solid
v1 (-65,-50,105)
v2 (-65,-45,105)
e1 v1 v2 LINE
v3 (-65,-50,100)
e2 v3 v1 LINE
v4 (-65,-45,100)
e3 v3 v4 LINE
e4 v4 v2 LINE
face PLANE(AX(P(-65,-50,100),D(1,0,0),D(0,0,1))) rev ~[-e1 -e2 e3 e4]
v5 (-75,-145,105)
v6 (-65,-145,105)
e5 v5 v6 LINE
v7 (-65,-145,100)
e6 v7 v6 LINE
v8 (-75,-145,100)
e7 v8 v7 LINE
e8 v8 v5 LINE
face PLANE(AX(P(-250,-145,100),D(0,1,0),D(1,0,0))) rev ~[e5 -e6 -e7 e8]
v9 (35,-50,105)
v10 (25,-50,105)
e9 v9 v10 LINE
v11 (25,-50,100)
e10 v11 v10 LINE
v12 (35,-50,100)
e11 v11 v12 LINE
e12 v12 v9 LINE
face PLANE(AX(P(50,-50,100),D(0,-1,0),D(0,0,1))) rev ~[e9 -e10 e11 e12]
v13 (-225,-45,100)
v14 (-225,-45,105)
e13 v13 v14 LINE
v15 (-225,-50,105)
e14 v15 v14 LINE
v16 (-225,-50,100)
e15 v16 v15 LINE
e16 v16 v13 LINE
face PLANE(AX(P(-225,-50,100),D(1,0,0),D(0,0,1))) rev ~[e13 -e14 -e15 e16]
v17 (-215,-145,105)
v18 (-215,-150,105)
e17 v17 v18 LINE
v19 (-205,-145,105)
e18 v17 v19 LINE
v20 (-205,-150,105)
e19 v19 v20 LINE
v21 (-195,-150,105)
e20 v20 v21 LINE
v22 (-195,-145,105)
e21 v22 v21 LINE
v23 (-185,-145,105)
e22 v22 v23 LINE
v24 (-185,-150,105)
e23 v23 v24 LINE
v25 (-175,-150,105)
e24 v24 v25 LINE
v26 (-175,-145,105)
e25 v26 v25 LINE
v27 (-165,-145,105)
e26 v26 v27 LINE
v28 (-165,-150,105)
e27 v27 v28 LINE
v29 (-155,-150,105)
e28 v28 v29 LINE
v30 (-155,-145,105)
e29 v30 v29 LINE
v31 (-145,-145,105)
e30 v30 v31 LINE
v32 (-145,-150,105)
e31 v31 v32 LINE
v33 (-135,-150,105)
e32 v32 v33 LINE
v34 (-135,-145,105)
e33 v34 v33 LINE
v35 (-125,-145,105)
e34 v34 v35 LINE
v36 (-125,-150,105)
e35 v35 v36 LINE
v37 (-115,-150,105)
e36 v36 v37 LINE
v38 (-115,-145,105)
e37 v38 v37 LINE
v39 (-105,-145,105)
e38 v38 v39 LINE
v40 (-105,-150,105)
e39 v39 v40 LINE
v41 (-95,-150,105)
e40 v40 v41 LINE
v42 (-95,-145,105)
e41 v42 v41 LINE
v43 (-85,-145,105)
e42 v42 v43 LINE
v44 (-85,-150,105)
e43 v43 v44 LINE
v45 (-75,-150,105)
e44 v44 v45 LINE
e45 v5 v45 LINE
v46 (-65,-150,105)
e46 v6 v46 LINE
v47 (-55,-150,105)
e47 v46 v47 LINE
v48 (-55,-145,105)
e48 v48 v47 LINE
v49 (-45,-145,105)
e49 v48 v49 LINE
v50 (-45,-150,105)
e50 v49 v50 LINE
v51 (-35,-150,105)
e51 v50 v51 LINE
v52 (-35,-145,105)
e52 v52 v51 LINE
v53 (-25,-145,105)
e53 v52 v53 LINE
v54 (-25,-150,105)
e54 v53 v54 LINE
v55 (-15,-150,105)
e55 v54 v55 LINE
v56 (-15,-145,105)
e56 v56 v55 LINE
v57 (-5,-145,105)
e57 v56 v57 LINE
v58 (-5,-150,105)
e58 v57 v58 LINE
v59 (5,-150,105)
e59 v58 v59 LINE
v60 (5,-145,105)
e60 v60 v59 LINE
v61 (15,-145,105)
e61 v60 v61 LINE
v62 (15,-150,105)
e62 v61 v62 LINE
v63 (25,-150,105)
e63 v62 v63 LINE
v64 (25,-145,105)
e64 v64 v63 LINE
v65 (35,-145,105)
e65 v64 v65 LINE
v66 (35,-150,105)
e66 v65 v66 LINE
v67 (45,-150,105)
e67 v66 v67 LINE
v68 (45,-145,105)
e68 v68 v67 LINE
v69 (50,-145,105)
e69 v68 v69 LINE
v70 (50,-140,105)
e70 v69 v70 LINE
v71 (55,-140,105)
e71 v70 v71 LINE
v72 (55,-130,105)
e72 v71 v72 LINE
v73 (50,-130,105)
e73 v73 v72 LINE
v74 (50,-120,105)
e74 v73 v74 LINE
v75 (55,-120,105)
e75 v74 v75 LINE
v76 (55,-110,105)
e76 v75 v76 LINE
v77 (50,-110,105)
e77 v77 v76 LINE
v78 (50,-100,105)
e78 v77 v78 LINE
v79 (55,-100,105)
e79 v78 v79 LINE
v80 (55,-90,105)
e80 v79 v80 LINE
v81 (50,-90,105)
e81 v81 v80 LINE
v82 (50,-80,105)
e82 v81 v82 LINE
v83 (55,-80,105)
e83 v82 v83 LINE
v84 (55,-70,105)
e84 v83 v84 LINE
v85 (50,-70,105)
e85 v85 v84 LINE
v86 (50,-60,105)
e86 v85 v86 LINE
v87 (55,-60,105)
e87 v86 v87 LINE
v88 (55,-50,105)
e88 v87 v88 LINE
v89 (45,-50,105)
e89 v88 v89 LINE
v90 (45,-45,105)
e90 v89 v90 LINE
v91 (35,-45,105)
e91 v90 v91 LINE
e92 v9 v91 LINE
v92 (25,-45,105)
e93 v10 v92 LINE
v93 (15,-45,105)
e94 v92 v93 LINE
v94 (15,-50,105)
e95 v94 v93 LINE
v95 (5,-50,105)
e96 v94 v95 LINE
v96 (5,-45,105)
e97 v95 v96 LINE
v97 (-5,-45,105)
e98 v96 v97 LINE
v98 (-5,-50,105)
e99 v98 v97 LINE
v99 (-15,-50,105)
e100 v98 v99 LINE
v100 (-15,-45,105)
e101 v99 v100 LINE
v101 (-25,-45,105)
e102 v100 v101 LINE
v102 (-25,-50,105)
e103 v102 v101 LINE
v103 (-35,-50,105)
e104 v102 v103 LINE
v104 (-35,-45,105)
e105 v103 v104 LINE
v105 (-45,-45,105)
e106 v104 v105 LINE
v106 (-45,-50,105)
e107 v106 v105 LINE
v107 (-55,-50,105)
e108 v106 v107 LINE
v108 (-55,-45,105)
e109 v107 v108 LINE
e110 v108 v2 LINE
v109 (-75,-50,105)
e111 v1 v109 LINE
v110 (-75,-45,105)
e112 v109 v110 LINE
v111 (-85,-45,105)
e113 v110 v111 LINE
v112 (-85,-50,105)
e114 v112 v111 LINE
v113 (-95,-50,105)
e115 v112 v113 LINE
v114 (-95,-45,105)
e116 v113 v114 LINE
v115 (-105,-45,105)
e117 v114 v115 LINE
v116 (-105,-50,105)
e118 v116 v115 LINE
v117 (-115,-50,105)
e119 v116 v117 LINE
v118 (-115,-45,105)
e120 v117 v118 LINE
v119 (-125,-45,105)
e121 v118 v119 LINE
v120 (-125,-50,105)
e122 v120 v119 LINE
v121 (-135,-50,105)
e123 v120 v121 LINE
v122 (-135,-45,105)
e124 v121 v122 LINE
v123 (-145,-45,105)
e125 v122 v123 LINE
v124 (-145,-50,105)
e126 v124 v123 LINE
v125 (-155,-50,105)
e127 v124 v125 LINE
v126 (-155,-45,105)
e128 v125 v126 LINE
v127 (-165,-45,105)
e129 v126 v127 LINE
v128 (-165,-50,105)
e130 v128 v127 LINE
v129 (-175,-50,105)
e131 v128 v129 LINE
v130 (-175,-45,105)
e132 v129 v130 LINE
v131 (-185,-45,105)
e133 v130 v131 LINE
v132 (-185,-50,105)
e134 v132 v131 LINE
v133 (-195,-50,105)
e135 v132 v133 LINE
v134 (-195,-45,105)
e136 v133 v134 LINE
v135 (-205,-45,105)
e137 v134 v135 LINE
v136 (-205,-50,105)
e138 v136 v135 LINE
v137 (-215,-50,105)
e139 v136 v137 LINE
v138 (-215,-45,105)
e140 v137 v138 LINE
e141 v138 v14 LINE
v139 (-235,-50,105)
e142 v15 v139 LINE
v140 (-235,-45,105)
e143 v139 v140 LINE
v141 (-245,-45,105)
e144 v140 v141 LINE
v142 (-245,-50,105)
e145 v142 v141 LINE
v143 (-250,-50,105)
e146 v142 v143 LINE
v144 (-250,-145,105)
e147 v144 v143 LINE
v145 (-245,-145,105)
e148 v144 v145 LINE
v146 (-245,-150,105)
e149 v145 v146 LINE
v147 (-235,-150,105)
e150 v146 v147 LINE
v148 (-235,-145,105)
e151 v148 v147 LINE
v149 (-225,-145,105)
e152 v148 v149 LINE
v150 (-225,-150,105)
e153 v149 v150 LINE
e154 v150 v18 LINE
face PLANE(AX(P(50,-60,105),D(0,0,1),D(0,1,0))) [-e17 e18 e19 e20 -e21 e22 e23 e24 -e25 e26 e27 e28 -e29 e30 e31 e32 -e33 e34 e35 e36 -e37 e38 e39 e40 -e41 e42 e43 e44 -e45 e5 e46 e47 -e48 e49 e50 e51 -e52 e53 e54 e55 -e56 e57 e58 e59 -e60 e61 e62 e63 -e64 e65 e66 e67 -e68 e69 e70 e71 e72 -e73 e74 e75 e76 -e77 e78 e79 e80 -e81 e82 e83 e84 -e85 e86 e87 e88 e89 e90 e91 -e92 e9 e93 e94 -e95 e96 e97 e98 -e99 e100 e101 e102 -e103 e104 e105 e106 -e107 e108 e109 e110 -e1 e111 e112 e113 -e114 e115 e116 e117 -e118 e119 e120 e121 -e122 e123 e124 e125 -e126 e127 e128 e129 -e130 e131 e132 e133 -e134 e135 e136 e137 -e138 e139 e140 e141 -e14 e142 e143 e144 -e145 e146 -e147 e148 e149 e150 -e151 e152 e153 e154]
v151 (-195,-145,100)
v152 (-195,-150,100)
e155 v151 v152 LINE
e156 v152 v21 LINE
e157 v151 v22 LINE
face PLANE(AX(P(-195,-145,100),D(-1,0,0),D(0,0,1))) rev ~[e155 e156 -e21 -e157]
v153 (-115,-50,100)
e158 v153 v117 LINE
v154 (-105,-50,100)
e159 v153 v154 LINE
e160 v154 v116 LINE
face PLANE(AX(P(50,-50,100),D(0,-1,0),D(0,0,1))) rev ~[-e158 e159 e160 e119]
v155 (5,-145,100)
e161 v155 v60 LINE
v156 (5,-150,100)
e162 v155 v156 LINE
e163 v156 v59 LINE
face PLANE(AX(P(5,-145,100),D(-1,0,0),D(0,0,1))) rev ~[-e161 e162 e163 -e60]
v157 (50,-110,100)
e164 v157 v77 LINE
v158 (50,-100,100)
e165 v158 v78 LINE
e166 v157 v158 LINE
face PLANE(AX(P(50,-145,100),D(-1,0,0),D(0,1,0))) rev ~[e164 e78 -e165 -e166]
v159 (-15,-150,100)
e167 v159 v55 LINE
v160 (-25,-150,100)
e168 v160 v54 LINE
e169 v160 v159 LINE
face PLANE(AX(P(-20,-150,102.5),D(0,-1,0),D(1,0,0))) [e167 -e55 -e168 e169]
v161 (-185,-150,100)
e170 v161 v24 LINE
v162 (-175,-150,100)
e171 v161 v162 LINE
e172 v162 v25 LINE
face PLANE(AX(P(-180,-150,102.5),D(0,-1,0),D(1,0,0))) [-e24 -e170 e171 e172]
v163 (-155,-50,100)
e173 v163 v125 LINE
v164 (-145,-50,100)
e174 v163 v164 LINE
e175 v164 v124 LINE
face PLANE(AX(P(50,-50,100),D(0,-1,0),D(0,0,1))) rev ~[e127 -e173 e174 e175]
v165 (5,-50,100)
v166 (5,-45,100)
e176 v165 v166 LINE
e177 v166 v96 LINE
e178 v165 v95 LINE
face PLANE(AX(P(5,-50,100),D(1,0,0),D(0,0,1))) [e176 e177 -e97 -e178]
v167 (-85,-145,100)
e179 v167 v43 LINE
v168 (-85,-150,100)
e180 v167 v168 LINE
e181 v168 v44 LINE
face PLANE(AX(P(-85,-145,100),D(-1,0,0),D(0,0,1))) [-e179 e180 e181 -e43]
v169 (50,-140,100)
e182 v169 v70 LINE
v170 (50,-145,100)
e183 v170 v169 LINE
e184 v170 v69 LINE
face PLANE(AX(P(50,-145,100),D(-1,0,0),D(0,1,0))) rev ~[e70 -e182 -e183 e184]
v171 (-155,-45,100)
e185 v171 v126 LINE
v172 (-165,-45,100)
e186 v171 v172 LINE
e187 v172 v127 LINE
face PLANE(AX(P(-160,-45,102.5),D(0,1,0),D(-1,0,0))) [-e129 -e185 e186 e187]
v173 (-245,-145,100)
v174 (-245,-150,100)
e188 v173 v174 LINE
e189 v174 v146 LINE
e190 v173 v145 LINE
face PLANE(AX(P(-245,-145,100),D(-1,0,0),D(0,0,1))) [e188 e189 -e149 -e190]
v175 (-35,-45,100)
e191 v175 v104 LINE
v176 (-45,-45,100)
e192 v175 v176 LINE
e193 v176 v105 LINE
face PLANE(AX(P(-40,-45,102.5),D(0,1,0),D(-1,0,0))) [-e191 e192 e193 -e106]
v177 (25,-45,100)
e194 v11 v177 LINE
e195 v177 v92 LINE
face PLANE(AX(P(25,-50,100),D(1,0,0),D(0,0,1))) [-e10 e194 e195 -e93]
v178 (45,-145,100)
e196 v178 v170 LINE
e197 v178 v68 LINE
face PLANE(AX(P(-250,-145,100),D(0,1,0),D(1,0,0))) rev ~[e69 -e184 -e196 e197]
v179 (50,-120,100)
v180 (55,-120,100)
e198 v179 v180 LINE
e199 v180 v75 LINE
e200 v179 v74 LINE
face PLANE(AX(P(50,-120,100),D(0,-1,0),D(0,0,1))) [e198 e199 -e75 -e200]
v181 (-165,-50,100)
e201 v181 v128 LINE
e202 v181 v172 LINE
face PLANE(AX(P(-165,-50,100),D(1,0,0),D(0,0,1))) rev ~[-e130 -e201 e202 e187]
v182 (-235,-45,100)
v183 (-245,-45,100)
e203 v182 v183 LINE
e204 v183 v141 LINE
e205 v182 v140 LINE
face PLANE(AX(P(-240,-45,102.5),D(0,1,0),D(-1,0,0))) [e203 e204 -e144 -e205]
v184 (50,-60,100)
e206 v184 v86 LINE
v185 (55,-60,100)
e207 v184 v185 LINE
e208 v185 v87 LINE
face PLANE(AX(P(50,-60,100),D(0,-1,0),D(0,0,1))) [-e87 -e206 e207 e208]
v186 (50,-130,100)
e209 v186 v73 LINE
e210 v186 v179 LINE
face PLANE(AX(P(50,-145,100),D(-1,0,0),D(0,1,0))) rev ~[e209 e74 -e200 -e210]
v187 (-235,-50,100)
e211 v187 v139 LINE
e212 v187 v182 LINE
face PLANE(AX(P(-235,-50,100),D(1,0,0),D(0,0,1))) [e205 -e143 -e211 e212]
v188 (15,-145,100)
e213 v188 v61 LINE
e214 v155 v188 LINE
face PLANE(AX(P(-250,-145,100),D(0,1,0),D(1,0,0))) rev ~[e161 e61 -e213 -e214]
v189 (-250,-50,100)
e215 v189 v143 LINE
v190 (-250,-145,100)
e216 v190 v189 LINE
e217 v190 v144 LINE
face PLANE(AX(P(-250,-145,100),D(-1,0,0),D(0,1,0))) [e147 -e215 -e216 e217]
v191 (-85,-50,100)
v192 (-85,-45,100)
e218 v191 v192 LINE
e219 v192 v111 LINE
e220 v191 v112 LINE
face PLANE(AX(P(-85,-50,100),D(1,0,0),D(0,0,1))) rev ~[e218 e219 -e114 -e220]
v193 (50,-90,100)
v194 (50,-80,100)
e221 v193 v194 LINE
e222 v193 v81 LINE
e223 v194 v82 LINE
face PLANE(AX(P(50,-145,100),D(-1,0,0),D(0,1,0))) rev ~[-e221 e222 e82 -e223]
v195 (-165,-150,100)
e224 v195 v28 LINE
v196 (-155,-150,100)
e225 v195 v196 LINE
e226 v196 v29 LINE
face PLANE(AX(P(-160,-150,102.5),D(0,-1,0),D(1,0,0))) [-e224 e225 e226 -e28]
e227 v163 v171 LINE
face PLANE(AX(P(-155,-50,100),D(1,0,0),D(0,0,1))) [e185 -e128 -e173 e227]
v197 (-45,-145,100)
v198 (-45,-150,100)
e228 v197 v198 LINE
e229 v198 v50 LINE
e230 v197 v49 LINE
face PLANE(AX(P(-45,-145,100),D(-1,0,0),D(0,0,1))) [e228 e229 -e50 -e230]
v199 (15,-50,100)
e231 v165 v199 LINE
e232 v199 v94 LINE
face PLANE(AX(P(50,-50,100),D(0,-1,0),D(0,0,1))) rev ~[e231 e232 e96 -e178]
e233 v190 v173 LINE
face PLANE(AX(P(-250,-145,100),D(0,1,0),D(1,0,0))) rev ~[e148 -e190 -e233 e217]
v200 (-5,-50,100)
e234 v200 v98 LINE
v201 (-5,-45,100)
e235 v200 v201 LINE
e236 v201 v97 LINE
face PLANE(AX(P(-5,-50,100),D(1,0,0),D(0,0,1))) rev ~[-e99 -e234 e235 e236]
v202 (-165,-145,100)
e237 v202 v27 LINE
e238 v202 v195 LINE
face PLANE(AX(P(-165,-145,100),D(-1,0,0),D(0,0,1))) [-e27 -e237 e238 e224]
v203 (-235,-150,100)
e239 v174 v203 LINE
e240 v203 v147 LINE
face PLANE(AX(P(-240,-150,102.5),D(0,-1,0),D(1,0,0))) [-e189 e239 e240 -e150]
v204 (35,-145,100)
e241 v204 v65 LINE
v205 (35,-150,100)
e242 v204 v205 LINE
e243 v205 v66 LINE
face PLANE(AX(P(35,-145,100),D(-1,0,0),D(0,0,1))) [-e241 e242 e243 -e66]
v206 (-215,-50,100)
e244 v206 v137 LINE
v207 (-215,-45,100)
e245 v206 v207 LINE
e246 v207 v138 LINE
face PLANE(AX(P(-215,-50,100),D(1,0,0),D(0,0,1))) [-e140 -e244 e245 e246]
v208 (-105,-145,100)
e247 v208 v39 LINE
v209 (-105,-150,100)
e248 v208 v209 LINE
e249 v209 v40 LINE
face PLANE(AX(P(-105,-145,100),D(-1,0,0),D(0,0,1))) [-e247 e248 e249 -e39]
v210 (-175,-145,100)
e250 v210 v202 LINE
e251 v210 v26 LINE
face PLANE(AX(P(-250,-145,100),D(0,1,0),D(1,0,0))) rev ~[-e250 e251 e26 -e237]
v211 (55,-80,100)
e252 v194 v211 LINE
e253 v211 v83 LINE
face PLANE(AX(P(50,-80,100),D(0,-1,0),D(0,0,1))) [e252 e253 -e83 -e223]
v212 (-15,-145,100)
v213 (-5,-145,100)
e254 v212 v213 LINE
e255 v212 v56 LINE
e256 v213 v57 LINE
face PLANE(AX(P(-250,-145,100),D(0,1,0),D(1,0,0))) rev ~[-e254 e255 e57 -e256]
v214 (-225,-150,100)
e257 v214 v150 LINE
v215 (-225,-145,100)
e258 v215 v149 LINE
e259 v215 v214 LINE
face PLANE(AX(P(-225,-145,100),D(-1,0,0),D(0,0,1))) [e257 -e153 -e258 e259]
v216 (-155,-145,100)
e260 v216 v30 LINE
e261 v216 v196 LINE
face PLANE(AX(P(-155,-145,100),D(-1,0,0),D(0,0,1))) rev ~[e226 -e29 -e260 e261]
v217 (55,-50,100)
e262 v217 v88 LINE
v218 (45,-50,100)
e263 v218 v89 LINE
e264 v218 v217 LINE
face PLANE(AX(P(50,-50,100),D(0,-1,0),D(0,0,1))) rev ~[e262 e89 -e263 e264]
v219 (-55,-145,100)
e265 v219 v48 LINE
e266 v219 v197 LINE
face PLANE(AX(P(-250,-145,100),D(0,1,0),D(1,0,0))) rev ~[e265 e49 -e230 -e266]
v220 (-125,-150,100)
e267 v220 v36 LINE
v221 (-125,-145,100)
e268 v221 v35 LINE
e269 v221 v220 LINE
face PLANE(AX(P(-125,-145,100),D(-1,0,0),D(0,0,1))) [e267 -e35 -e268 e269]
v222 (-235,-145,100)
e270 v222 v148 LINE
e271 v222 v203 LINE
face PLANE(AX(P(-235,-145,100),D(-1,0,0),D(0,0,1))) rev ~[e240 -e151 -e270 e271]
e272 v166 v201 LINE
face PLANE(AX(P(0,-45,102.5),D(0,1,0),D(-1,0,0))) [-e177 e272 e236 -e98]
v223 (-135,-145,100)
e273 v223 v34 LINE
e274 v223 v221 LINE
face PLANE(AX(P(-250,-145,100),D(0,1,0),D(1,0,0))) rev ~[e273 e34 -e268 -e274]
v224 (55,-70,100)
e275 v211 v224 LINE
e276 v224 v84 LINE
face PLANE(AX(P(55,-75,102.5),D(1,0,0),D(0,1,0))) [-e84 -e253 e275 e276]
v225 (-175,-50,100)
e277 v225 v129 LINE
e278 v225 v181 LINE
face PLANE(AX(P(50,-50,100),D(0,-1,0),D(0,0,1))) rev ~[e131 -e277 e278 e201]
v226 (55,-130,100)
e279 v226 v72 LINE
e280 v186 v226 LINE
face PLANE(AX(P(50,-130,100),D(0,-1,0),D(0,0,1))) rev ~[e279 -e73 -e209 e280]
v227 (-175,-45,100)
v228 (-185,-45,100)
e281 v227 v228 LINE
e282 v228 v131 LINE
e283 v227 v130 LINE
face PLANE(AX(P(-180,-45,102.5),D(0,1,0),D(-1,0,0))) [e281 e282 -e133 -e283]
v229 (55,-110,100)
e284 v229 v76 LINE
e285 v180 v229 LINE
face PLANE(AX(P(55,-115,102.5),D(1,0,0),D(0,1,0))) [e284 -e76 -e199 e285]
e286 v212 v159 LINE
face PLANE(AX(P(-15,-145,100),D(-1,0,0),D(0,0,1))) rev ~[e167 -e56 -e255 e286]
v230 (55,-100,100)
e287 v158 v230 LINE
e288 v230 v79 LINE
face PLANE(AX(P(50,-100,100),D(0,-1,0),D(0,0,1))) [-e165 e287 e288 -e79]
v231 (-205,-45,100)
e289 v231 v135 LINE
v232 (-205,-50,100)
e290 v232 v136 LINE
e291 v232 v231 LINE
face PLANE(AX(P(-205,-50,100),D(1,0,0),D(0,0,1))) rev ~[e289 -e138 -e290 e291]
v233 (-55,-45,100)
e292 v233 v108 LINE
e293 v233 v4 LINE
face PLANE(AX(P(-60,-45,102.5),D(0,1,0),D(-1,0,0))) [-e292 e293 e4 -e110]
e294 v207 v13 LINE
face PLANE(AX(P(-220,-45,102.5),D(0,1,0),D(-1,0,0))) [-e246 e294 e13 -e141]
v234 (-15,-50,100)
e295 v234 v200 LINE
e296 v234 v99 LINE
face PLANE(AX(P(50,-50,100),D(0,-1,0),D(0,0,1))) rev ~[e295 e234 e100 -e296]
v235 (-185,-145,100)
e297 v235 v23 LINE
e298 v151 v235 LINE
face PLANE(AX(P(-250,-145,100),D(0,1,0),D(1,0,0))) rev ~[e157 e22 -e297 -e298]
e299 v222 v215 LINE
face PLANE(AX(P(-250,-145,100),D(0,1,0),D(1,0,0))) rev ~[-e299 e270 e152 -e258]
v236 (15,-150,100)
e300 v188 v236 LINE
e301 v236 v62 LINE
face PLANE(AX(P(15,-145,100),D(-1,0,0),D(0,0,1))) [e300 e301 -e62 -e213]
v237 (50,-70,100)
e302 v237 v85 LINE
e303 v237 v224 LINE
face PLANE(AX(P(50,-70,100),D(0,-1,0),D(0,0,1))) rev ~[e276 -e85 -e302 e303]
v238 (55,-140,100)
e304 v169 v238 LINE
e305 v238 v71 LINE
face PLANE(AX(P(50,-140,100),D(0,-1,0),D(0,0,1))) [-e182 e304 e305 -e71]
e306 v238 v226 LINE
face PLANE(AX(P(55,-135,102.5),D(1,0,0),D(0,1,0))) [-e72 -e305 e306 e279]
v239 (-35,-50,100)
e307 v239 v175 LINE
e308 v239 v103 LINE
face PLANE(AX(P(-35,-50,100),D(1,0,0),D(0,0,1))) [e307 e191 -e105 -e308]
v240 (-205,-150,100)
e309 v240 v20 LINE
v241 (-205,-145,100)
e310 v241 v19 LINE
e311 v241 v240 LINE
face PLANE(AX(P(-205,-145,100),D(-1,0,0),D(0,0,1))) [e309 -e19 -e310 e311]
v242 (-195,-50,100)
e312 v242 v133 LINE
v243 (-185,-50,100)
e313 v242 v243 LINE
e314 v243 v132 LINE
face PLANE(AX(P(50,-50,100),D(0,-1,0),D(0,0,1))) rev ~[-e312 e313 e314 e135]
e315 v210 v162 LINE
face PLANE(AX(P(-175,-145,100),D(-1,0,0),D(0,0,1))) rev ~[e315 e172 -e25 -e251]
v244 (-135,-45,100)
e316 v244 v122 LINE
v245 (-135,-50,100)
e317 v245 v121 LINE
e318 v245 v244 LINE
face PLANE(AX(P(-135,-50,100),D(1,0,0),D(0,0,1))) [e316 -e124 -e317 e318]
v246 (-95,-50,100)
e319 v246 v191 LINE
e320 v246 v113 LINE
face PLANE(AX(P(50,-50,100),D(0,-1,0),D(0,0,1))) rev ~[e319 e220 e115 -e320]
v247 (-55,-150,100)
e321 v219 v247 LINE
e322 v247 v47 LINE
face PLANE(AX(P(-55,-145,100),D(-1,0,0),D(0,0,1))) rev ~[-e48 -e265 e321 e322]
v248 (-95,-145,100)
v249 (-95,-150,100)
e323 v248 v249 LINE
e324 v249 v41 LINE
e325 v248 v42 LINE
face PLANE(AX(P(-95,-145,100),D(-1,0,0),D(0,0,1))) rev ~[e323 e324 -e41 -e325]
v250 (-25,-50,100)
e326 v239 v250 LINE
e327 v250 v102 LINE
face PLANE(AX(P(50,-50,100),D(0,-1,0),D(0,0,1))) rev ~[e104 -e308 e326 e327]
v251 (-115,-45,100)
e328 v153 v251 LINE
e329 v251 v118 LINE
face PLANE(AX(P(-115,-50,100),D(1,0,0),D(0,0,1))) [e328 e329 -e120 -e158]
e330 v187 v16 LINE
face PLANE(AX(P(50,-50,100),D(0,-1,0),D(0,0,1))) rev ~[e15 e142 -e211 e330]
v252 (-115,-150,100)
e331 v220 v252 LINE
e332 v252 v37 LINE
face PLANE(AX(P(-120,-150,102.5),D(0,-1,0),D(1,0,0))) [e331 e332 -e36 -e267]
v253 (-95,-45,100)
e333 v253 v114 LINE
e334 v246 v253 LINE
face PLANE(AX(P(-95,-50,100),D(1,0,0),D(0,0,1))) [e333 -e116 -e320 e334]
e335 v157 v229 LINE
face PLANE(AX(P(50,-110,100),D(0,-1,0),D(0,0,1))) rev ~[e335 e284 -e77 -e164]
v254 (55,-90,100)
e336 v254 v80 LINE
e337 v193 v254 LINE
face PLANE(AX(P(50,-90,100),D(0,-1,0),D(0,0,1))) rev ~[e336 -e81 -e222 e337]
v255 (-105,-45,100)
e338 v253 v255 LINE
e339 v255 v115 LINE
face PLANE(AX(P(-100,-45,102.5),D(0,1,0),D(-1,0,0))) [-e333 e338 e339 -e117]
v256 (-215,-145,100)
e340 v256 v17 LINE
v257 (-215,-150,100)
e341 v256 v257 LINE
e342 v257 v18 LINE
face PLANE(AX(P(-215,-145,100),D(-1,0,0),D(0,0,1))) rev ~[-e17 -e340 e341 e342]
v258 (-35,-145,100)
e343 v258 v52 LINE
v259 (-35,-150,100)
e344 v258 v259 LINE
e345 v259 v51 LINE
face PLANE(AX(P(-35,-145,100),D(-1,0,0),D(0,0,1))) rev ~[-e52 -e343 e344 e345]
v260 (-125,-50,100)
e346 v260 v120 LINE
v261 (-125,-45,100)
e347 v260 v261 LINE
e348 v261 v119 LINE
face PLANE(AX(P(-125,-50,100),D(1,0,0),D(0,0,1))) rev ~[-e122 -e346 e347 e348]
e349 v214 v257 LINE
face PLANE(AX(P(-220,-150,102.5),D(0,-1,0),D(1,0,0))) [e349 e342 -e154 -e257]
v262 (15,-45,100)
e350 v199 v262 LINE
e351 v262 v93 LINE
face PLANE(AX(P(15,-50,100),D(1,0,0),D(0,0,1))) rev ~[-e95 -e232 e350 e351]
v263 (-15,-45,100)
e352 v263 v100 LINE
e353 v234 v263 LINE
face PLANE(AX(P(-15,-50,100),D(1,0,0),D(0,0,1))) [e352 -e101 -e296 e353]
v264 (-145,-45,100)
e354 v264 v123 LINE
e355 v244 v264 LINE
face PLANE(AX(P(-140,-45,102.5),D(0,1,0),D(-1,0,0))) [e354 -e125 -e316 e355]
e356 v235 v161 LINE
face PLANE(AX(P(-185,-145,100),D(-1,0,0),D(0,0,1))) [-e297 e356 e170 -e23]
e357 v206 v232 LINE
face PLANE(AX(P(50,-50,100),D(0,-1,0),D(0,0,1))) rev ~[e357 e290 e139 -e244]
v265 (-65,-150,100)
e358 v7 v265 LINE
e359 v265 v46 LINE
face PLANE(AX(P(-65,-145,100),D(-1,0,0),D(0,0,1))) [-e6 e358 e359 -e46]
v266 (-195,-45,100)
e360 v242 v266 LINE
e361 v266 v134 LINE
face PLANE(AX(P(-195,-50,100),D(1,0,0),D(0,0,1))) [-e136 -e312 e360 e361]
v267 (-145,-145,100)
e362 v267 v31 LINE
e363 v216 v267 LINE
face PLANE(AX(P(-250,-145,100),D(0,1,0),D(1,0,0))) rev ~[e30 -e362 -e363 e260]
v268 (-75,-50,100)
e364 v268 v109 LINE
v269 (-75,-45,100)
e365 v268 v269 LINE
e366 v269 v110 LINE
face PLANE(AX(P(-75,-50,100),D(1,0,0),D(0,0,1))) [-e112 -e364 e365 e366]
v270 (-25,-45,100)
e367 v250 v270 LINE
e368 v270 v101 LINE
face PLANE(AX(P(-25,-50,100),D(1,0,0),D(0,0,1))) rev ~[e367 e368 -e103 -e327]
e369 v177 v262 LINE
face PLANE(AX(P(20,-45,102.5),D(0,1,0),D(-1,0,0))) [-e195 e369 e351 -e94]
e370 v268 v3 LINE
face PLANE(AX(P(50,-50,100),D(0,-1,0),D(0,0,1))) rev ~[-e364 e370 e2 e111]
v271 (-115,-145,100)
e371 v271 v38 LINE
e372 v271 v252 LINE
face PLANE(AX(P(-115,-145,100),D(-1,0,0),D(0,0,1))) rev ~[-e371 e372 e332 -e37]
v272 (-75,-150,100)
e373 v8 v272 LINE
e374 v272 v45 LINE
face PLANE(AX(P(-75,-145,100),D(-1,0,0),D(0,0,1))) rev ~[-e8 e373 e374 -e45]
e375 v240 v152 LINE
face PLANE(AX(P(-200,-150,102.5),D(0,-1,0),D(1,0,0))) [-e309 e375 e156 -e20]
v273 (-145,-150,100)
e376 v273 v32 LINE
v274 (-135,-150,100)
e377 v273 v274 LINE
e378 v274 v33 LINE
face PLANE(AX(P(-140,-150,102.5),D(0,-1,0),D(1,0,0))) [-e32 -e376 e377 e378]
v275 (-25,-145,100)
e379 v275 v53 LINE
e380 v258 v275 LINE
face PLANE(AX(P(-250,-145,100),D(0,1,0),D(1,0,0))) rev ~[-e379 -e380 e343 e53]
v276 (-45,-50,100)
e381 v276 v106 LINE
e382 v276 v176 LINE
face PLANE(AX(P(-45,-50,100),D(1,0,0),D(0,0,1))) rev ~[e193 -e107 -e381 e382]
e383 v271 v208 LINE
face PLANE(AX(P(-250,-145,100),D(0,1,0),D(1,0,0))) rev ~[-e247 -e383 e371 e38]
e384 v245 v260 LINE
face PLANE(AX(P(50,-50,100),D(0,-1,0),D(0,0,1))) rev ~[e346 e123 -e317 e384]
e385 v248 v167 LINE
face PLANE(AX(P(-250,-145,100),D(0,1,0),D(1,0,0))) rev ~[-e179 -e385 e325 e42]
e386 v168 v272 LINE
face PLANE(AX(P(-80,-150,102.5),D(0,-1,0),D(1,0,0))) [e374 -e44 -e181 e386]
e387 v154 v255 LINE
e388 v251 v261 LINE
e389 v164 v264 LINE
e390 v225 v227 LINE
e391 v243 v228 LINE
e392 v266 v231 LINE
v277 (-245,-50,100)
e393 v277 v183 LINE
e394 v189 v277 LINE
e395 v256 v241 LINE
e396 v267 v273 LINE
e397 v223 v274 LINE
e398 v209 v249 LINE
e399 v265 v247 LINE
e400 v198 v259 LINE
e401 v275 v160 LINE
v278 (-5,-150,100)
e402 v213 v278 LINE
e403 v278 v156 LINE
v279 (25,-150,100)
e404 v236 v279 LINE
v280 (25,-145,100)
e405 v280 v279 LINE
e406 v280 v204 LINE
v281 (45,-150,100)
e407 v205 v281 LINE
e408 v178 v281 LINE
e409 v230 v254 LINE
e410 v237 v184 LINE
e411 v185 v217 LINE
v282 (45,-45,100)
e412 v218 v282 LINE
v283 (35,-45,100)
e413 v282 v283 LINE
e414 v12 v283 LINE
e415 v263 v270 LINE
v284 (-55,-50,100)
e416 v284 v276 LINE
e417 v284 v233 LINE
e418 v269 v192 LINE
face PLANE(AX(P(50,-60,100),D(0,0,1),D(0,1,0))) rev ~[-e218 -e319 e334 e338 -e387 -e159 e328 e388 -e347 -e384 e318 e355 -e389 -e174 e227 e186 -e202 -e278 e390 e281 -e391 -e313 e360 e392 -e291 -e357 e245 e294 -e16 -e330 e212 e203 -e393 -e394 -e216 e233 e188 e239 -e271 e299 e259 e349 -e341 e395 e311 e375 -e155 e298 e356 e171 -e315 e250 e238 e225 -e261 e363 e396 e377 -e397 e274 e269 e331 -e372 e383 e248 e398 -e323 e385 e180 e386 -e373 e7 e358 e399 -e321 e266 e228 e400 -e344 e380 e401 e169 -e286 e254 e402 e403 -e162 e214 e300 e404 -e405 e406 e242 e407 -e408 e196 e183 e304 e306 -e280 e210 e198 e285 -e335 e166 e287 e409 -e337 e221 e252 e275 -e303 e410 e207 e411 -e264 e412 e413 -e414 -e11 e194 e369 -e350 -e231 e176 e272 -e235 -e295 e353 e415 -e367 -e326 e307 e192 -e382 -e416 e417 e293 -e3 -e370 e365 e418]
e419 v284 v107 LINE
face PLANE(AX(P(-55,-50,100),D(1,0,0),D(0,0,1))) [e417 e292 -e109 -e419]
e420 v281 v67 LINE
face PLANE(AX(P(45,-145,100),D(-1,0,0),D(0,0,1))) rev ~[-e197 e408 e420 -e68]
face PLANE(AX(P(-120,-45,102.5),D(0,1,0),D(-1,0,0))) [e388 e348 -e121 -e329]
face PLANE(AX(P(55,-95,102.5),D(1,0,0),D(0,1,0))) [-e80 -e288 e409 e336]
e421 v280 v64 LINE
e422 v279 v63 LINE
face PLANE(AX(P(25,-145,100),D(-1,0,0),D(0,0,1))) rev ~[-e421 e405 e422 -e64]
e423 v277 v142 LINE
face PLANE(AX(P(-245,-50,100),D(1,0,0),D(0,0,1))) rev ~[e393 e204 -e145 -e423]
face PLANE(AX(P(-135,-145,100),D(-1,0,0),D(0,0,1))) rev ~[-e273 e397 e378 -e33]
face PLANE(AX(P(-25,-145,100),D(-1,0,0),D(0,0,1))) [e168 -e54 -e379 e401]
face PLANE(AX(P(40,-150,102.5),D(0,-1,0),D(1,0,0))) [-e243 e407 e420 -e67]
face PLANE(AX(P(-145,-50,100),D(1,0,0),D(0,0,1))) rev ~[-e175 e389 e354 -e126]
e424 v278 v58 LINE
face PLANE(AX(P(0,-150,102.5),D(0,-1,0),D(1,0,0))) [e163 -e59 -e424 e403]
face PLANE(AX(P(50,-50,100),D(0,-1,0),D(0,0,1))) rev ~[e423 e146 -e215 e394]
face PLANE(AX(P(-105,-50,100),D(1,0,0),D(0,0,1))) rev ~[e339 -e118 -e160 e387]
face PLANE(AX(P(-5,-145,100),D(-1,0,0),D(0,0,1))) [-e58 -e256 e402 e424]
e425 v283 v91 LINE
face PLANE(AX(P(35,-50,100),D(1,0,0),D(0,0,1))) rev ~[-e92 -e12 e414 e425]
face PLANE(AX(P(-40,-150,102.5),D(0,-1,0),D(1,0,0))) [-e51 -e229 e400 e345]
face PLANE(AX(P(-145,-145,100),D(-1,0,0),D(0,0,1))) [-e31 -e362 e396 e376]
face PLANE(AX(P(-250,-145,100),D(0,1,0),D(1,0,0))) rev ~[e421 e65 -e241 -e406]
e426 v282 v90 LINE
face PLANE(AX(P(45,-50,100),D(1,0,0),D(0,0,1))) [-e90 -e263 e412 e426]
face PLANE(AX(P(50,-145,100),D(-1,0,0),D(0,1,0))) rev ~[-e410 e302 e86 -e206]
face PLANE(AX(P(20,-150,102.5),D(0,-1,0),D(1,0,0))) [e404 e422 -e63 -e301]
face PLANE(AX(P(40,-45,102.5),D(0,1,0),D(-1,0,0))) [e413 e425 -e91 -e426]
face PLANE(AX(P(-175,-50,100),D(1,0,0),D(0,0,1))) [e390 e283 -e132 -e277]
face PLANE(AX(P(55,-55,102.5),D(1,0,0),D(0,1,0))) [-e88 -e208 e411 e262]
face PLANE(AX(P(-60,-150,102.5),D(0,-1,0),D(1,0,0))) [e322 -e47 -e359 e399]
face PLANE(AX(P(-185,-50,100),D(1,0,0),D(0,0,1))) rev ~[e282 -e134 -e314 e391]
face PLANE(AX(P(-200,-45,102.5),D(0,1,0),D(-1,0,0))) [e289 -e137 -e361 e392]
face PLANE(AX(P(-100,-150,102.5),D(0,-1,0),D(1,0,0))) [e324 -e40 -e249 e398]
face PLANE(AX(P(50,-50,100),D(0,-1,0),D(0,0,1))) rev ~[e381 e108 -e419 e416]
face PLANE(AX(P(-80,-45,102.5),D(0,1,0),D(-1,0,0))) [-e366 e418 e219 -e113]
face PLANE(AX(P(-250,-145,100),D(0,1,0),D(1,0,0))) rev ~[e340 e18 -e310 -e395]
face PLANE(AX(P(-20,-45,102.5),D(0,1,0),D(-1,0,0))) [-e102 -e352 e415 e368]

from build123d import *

# Parameters (mm, degrees)
SKETCH096_W            = 300
SKETCH096_H            = 95
PAD053_DEPTH           = 5
SKETCH113_W            = 10
SKETCH113_H            = 5
PAD069_DEPTH           = 5
LINEARPATTERN065_COUNT = 5
LINEARPATTERN065_PITCH = 20
SKETCH114_W            = 10
SKETCH114_H            = 5
PAD070_DEPTH           = 5
LINEARPATTERN066_COUNT = 15
LINEARPATTERN066_PITCH = 20
SKETCH129_W            = 10
SKETCH129_H            = 5
PAD073_DEPTH           = 5
LINEARPATTERN081_COUNT = 15
LINEARPATTERN081_PITCH = 20


with BuildPart() as part:
    # Sketch096 → Pad053 (new body)
    with BuildSketch(Plane.XY):
        Rectangle(SKETCH096_W, SKETCH096_H)
    extrude(amount=PAD053_DEPTH)

    # Sketch113 (on DatumPlane) → Pad069 (join)
    with BuildSketch(Plane.YZ.offset(150)):
        with Locations((-37.5, 2.5)):
            Rectangle(SKETCH113_W, SKETCH113_H)
    pad069 = extrude(amount=PAD069_DEPTH)

    # LinearPattern065: Pad069 ×5
    with Locations(*[(0, i * LINEARPATTERN065_PITCH, 0) for i in range(1, LINEARPATTERN065_COUNT)]):
        add(pad069)

    # Sketch114 (on DatumPlane) → Pad070 (join)
    with BuildSketch(Plane.XZ.offset(47.5)):
        with Locations((-140, 2.5)):
            Rectangle(SKETCH114_W, SKETCH114_H)
    pad070 = extrude(amount=PAD070_DEPTH)

    # LinearPattern066: Pad070 ×15
    with Locations(*[(i * LINEARPATTERN066_PITCH, 0, 0) for i in range(1, LINEARPATTERN066_COUNT)]):
        add(pad070)

    # Sketch129 (on DatumPlane) → Pad073 (join)
    with BuildSketch(Plane(origin=(0, 47.5, 0), x_dir=(-1, 0, 0), z_dir=(0, 1, 0))):
        with Locations((-140, 2.5)):
            Rectangle(SKETCH129_W, SKETCH129_H)
    pad073 = extrude(amount=PAD073_DEPTH)

    # LinearPattern081: Pad073 ×15
    with Locations(*[(-i * LINEARPATTERN081_PITCH, 0, 0) for i in range(1, LINEARPATTERN081_COUNT)]):
        add(pad073)


with BuildPart() as part_1:
    # Body037 placement: moved
    add(part.part.moved(Location((-100, -97.5, 100))))


solid = part_1.part
